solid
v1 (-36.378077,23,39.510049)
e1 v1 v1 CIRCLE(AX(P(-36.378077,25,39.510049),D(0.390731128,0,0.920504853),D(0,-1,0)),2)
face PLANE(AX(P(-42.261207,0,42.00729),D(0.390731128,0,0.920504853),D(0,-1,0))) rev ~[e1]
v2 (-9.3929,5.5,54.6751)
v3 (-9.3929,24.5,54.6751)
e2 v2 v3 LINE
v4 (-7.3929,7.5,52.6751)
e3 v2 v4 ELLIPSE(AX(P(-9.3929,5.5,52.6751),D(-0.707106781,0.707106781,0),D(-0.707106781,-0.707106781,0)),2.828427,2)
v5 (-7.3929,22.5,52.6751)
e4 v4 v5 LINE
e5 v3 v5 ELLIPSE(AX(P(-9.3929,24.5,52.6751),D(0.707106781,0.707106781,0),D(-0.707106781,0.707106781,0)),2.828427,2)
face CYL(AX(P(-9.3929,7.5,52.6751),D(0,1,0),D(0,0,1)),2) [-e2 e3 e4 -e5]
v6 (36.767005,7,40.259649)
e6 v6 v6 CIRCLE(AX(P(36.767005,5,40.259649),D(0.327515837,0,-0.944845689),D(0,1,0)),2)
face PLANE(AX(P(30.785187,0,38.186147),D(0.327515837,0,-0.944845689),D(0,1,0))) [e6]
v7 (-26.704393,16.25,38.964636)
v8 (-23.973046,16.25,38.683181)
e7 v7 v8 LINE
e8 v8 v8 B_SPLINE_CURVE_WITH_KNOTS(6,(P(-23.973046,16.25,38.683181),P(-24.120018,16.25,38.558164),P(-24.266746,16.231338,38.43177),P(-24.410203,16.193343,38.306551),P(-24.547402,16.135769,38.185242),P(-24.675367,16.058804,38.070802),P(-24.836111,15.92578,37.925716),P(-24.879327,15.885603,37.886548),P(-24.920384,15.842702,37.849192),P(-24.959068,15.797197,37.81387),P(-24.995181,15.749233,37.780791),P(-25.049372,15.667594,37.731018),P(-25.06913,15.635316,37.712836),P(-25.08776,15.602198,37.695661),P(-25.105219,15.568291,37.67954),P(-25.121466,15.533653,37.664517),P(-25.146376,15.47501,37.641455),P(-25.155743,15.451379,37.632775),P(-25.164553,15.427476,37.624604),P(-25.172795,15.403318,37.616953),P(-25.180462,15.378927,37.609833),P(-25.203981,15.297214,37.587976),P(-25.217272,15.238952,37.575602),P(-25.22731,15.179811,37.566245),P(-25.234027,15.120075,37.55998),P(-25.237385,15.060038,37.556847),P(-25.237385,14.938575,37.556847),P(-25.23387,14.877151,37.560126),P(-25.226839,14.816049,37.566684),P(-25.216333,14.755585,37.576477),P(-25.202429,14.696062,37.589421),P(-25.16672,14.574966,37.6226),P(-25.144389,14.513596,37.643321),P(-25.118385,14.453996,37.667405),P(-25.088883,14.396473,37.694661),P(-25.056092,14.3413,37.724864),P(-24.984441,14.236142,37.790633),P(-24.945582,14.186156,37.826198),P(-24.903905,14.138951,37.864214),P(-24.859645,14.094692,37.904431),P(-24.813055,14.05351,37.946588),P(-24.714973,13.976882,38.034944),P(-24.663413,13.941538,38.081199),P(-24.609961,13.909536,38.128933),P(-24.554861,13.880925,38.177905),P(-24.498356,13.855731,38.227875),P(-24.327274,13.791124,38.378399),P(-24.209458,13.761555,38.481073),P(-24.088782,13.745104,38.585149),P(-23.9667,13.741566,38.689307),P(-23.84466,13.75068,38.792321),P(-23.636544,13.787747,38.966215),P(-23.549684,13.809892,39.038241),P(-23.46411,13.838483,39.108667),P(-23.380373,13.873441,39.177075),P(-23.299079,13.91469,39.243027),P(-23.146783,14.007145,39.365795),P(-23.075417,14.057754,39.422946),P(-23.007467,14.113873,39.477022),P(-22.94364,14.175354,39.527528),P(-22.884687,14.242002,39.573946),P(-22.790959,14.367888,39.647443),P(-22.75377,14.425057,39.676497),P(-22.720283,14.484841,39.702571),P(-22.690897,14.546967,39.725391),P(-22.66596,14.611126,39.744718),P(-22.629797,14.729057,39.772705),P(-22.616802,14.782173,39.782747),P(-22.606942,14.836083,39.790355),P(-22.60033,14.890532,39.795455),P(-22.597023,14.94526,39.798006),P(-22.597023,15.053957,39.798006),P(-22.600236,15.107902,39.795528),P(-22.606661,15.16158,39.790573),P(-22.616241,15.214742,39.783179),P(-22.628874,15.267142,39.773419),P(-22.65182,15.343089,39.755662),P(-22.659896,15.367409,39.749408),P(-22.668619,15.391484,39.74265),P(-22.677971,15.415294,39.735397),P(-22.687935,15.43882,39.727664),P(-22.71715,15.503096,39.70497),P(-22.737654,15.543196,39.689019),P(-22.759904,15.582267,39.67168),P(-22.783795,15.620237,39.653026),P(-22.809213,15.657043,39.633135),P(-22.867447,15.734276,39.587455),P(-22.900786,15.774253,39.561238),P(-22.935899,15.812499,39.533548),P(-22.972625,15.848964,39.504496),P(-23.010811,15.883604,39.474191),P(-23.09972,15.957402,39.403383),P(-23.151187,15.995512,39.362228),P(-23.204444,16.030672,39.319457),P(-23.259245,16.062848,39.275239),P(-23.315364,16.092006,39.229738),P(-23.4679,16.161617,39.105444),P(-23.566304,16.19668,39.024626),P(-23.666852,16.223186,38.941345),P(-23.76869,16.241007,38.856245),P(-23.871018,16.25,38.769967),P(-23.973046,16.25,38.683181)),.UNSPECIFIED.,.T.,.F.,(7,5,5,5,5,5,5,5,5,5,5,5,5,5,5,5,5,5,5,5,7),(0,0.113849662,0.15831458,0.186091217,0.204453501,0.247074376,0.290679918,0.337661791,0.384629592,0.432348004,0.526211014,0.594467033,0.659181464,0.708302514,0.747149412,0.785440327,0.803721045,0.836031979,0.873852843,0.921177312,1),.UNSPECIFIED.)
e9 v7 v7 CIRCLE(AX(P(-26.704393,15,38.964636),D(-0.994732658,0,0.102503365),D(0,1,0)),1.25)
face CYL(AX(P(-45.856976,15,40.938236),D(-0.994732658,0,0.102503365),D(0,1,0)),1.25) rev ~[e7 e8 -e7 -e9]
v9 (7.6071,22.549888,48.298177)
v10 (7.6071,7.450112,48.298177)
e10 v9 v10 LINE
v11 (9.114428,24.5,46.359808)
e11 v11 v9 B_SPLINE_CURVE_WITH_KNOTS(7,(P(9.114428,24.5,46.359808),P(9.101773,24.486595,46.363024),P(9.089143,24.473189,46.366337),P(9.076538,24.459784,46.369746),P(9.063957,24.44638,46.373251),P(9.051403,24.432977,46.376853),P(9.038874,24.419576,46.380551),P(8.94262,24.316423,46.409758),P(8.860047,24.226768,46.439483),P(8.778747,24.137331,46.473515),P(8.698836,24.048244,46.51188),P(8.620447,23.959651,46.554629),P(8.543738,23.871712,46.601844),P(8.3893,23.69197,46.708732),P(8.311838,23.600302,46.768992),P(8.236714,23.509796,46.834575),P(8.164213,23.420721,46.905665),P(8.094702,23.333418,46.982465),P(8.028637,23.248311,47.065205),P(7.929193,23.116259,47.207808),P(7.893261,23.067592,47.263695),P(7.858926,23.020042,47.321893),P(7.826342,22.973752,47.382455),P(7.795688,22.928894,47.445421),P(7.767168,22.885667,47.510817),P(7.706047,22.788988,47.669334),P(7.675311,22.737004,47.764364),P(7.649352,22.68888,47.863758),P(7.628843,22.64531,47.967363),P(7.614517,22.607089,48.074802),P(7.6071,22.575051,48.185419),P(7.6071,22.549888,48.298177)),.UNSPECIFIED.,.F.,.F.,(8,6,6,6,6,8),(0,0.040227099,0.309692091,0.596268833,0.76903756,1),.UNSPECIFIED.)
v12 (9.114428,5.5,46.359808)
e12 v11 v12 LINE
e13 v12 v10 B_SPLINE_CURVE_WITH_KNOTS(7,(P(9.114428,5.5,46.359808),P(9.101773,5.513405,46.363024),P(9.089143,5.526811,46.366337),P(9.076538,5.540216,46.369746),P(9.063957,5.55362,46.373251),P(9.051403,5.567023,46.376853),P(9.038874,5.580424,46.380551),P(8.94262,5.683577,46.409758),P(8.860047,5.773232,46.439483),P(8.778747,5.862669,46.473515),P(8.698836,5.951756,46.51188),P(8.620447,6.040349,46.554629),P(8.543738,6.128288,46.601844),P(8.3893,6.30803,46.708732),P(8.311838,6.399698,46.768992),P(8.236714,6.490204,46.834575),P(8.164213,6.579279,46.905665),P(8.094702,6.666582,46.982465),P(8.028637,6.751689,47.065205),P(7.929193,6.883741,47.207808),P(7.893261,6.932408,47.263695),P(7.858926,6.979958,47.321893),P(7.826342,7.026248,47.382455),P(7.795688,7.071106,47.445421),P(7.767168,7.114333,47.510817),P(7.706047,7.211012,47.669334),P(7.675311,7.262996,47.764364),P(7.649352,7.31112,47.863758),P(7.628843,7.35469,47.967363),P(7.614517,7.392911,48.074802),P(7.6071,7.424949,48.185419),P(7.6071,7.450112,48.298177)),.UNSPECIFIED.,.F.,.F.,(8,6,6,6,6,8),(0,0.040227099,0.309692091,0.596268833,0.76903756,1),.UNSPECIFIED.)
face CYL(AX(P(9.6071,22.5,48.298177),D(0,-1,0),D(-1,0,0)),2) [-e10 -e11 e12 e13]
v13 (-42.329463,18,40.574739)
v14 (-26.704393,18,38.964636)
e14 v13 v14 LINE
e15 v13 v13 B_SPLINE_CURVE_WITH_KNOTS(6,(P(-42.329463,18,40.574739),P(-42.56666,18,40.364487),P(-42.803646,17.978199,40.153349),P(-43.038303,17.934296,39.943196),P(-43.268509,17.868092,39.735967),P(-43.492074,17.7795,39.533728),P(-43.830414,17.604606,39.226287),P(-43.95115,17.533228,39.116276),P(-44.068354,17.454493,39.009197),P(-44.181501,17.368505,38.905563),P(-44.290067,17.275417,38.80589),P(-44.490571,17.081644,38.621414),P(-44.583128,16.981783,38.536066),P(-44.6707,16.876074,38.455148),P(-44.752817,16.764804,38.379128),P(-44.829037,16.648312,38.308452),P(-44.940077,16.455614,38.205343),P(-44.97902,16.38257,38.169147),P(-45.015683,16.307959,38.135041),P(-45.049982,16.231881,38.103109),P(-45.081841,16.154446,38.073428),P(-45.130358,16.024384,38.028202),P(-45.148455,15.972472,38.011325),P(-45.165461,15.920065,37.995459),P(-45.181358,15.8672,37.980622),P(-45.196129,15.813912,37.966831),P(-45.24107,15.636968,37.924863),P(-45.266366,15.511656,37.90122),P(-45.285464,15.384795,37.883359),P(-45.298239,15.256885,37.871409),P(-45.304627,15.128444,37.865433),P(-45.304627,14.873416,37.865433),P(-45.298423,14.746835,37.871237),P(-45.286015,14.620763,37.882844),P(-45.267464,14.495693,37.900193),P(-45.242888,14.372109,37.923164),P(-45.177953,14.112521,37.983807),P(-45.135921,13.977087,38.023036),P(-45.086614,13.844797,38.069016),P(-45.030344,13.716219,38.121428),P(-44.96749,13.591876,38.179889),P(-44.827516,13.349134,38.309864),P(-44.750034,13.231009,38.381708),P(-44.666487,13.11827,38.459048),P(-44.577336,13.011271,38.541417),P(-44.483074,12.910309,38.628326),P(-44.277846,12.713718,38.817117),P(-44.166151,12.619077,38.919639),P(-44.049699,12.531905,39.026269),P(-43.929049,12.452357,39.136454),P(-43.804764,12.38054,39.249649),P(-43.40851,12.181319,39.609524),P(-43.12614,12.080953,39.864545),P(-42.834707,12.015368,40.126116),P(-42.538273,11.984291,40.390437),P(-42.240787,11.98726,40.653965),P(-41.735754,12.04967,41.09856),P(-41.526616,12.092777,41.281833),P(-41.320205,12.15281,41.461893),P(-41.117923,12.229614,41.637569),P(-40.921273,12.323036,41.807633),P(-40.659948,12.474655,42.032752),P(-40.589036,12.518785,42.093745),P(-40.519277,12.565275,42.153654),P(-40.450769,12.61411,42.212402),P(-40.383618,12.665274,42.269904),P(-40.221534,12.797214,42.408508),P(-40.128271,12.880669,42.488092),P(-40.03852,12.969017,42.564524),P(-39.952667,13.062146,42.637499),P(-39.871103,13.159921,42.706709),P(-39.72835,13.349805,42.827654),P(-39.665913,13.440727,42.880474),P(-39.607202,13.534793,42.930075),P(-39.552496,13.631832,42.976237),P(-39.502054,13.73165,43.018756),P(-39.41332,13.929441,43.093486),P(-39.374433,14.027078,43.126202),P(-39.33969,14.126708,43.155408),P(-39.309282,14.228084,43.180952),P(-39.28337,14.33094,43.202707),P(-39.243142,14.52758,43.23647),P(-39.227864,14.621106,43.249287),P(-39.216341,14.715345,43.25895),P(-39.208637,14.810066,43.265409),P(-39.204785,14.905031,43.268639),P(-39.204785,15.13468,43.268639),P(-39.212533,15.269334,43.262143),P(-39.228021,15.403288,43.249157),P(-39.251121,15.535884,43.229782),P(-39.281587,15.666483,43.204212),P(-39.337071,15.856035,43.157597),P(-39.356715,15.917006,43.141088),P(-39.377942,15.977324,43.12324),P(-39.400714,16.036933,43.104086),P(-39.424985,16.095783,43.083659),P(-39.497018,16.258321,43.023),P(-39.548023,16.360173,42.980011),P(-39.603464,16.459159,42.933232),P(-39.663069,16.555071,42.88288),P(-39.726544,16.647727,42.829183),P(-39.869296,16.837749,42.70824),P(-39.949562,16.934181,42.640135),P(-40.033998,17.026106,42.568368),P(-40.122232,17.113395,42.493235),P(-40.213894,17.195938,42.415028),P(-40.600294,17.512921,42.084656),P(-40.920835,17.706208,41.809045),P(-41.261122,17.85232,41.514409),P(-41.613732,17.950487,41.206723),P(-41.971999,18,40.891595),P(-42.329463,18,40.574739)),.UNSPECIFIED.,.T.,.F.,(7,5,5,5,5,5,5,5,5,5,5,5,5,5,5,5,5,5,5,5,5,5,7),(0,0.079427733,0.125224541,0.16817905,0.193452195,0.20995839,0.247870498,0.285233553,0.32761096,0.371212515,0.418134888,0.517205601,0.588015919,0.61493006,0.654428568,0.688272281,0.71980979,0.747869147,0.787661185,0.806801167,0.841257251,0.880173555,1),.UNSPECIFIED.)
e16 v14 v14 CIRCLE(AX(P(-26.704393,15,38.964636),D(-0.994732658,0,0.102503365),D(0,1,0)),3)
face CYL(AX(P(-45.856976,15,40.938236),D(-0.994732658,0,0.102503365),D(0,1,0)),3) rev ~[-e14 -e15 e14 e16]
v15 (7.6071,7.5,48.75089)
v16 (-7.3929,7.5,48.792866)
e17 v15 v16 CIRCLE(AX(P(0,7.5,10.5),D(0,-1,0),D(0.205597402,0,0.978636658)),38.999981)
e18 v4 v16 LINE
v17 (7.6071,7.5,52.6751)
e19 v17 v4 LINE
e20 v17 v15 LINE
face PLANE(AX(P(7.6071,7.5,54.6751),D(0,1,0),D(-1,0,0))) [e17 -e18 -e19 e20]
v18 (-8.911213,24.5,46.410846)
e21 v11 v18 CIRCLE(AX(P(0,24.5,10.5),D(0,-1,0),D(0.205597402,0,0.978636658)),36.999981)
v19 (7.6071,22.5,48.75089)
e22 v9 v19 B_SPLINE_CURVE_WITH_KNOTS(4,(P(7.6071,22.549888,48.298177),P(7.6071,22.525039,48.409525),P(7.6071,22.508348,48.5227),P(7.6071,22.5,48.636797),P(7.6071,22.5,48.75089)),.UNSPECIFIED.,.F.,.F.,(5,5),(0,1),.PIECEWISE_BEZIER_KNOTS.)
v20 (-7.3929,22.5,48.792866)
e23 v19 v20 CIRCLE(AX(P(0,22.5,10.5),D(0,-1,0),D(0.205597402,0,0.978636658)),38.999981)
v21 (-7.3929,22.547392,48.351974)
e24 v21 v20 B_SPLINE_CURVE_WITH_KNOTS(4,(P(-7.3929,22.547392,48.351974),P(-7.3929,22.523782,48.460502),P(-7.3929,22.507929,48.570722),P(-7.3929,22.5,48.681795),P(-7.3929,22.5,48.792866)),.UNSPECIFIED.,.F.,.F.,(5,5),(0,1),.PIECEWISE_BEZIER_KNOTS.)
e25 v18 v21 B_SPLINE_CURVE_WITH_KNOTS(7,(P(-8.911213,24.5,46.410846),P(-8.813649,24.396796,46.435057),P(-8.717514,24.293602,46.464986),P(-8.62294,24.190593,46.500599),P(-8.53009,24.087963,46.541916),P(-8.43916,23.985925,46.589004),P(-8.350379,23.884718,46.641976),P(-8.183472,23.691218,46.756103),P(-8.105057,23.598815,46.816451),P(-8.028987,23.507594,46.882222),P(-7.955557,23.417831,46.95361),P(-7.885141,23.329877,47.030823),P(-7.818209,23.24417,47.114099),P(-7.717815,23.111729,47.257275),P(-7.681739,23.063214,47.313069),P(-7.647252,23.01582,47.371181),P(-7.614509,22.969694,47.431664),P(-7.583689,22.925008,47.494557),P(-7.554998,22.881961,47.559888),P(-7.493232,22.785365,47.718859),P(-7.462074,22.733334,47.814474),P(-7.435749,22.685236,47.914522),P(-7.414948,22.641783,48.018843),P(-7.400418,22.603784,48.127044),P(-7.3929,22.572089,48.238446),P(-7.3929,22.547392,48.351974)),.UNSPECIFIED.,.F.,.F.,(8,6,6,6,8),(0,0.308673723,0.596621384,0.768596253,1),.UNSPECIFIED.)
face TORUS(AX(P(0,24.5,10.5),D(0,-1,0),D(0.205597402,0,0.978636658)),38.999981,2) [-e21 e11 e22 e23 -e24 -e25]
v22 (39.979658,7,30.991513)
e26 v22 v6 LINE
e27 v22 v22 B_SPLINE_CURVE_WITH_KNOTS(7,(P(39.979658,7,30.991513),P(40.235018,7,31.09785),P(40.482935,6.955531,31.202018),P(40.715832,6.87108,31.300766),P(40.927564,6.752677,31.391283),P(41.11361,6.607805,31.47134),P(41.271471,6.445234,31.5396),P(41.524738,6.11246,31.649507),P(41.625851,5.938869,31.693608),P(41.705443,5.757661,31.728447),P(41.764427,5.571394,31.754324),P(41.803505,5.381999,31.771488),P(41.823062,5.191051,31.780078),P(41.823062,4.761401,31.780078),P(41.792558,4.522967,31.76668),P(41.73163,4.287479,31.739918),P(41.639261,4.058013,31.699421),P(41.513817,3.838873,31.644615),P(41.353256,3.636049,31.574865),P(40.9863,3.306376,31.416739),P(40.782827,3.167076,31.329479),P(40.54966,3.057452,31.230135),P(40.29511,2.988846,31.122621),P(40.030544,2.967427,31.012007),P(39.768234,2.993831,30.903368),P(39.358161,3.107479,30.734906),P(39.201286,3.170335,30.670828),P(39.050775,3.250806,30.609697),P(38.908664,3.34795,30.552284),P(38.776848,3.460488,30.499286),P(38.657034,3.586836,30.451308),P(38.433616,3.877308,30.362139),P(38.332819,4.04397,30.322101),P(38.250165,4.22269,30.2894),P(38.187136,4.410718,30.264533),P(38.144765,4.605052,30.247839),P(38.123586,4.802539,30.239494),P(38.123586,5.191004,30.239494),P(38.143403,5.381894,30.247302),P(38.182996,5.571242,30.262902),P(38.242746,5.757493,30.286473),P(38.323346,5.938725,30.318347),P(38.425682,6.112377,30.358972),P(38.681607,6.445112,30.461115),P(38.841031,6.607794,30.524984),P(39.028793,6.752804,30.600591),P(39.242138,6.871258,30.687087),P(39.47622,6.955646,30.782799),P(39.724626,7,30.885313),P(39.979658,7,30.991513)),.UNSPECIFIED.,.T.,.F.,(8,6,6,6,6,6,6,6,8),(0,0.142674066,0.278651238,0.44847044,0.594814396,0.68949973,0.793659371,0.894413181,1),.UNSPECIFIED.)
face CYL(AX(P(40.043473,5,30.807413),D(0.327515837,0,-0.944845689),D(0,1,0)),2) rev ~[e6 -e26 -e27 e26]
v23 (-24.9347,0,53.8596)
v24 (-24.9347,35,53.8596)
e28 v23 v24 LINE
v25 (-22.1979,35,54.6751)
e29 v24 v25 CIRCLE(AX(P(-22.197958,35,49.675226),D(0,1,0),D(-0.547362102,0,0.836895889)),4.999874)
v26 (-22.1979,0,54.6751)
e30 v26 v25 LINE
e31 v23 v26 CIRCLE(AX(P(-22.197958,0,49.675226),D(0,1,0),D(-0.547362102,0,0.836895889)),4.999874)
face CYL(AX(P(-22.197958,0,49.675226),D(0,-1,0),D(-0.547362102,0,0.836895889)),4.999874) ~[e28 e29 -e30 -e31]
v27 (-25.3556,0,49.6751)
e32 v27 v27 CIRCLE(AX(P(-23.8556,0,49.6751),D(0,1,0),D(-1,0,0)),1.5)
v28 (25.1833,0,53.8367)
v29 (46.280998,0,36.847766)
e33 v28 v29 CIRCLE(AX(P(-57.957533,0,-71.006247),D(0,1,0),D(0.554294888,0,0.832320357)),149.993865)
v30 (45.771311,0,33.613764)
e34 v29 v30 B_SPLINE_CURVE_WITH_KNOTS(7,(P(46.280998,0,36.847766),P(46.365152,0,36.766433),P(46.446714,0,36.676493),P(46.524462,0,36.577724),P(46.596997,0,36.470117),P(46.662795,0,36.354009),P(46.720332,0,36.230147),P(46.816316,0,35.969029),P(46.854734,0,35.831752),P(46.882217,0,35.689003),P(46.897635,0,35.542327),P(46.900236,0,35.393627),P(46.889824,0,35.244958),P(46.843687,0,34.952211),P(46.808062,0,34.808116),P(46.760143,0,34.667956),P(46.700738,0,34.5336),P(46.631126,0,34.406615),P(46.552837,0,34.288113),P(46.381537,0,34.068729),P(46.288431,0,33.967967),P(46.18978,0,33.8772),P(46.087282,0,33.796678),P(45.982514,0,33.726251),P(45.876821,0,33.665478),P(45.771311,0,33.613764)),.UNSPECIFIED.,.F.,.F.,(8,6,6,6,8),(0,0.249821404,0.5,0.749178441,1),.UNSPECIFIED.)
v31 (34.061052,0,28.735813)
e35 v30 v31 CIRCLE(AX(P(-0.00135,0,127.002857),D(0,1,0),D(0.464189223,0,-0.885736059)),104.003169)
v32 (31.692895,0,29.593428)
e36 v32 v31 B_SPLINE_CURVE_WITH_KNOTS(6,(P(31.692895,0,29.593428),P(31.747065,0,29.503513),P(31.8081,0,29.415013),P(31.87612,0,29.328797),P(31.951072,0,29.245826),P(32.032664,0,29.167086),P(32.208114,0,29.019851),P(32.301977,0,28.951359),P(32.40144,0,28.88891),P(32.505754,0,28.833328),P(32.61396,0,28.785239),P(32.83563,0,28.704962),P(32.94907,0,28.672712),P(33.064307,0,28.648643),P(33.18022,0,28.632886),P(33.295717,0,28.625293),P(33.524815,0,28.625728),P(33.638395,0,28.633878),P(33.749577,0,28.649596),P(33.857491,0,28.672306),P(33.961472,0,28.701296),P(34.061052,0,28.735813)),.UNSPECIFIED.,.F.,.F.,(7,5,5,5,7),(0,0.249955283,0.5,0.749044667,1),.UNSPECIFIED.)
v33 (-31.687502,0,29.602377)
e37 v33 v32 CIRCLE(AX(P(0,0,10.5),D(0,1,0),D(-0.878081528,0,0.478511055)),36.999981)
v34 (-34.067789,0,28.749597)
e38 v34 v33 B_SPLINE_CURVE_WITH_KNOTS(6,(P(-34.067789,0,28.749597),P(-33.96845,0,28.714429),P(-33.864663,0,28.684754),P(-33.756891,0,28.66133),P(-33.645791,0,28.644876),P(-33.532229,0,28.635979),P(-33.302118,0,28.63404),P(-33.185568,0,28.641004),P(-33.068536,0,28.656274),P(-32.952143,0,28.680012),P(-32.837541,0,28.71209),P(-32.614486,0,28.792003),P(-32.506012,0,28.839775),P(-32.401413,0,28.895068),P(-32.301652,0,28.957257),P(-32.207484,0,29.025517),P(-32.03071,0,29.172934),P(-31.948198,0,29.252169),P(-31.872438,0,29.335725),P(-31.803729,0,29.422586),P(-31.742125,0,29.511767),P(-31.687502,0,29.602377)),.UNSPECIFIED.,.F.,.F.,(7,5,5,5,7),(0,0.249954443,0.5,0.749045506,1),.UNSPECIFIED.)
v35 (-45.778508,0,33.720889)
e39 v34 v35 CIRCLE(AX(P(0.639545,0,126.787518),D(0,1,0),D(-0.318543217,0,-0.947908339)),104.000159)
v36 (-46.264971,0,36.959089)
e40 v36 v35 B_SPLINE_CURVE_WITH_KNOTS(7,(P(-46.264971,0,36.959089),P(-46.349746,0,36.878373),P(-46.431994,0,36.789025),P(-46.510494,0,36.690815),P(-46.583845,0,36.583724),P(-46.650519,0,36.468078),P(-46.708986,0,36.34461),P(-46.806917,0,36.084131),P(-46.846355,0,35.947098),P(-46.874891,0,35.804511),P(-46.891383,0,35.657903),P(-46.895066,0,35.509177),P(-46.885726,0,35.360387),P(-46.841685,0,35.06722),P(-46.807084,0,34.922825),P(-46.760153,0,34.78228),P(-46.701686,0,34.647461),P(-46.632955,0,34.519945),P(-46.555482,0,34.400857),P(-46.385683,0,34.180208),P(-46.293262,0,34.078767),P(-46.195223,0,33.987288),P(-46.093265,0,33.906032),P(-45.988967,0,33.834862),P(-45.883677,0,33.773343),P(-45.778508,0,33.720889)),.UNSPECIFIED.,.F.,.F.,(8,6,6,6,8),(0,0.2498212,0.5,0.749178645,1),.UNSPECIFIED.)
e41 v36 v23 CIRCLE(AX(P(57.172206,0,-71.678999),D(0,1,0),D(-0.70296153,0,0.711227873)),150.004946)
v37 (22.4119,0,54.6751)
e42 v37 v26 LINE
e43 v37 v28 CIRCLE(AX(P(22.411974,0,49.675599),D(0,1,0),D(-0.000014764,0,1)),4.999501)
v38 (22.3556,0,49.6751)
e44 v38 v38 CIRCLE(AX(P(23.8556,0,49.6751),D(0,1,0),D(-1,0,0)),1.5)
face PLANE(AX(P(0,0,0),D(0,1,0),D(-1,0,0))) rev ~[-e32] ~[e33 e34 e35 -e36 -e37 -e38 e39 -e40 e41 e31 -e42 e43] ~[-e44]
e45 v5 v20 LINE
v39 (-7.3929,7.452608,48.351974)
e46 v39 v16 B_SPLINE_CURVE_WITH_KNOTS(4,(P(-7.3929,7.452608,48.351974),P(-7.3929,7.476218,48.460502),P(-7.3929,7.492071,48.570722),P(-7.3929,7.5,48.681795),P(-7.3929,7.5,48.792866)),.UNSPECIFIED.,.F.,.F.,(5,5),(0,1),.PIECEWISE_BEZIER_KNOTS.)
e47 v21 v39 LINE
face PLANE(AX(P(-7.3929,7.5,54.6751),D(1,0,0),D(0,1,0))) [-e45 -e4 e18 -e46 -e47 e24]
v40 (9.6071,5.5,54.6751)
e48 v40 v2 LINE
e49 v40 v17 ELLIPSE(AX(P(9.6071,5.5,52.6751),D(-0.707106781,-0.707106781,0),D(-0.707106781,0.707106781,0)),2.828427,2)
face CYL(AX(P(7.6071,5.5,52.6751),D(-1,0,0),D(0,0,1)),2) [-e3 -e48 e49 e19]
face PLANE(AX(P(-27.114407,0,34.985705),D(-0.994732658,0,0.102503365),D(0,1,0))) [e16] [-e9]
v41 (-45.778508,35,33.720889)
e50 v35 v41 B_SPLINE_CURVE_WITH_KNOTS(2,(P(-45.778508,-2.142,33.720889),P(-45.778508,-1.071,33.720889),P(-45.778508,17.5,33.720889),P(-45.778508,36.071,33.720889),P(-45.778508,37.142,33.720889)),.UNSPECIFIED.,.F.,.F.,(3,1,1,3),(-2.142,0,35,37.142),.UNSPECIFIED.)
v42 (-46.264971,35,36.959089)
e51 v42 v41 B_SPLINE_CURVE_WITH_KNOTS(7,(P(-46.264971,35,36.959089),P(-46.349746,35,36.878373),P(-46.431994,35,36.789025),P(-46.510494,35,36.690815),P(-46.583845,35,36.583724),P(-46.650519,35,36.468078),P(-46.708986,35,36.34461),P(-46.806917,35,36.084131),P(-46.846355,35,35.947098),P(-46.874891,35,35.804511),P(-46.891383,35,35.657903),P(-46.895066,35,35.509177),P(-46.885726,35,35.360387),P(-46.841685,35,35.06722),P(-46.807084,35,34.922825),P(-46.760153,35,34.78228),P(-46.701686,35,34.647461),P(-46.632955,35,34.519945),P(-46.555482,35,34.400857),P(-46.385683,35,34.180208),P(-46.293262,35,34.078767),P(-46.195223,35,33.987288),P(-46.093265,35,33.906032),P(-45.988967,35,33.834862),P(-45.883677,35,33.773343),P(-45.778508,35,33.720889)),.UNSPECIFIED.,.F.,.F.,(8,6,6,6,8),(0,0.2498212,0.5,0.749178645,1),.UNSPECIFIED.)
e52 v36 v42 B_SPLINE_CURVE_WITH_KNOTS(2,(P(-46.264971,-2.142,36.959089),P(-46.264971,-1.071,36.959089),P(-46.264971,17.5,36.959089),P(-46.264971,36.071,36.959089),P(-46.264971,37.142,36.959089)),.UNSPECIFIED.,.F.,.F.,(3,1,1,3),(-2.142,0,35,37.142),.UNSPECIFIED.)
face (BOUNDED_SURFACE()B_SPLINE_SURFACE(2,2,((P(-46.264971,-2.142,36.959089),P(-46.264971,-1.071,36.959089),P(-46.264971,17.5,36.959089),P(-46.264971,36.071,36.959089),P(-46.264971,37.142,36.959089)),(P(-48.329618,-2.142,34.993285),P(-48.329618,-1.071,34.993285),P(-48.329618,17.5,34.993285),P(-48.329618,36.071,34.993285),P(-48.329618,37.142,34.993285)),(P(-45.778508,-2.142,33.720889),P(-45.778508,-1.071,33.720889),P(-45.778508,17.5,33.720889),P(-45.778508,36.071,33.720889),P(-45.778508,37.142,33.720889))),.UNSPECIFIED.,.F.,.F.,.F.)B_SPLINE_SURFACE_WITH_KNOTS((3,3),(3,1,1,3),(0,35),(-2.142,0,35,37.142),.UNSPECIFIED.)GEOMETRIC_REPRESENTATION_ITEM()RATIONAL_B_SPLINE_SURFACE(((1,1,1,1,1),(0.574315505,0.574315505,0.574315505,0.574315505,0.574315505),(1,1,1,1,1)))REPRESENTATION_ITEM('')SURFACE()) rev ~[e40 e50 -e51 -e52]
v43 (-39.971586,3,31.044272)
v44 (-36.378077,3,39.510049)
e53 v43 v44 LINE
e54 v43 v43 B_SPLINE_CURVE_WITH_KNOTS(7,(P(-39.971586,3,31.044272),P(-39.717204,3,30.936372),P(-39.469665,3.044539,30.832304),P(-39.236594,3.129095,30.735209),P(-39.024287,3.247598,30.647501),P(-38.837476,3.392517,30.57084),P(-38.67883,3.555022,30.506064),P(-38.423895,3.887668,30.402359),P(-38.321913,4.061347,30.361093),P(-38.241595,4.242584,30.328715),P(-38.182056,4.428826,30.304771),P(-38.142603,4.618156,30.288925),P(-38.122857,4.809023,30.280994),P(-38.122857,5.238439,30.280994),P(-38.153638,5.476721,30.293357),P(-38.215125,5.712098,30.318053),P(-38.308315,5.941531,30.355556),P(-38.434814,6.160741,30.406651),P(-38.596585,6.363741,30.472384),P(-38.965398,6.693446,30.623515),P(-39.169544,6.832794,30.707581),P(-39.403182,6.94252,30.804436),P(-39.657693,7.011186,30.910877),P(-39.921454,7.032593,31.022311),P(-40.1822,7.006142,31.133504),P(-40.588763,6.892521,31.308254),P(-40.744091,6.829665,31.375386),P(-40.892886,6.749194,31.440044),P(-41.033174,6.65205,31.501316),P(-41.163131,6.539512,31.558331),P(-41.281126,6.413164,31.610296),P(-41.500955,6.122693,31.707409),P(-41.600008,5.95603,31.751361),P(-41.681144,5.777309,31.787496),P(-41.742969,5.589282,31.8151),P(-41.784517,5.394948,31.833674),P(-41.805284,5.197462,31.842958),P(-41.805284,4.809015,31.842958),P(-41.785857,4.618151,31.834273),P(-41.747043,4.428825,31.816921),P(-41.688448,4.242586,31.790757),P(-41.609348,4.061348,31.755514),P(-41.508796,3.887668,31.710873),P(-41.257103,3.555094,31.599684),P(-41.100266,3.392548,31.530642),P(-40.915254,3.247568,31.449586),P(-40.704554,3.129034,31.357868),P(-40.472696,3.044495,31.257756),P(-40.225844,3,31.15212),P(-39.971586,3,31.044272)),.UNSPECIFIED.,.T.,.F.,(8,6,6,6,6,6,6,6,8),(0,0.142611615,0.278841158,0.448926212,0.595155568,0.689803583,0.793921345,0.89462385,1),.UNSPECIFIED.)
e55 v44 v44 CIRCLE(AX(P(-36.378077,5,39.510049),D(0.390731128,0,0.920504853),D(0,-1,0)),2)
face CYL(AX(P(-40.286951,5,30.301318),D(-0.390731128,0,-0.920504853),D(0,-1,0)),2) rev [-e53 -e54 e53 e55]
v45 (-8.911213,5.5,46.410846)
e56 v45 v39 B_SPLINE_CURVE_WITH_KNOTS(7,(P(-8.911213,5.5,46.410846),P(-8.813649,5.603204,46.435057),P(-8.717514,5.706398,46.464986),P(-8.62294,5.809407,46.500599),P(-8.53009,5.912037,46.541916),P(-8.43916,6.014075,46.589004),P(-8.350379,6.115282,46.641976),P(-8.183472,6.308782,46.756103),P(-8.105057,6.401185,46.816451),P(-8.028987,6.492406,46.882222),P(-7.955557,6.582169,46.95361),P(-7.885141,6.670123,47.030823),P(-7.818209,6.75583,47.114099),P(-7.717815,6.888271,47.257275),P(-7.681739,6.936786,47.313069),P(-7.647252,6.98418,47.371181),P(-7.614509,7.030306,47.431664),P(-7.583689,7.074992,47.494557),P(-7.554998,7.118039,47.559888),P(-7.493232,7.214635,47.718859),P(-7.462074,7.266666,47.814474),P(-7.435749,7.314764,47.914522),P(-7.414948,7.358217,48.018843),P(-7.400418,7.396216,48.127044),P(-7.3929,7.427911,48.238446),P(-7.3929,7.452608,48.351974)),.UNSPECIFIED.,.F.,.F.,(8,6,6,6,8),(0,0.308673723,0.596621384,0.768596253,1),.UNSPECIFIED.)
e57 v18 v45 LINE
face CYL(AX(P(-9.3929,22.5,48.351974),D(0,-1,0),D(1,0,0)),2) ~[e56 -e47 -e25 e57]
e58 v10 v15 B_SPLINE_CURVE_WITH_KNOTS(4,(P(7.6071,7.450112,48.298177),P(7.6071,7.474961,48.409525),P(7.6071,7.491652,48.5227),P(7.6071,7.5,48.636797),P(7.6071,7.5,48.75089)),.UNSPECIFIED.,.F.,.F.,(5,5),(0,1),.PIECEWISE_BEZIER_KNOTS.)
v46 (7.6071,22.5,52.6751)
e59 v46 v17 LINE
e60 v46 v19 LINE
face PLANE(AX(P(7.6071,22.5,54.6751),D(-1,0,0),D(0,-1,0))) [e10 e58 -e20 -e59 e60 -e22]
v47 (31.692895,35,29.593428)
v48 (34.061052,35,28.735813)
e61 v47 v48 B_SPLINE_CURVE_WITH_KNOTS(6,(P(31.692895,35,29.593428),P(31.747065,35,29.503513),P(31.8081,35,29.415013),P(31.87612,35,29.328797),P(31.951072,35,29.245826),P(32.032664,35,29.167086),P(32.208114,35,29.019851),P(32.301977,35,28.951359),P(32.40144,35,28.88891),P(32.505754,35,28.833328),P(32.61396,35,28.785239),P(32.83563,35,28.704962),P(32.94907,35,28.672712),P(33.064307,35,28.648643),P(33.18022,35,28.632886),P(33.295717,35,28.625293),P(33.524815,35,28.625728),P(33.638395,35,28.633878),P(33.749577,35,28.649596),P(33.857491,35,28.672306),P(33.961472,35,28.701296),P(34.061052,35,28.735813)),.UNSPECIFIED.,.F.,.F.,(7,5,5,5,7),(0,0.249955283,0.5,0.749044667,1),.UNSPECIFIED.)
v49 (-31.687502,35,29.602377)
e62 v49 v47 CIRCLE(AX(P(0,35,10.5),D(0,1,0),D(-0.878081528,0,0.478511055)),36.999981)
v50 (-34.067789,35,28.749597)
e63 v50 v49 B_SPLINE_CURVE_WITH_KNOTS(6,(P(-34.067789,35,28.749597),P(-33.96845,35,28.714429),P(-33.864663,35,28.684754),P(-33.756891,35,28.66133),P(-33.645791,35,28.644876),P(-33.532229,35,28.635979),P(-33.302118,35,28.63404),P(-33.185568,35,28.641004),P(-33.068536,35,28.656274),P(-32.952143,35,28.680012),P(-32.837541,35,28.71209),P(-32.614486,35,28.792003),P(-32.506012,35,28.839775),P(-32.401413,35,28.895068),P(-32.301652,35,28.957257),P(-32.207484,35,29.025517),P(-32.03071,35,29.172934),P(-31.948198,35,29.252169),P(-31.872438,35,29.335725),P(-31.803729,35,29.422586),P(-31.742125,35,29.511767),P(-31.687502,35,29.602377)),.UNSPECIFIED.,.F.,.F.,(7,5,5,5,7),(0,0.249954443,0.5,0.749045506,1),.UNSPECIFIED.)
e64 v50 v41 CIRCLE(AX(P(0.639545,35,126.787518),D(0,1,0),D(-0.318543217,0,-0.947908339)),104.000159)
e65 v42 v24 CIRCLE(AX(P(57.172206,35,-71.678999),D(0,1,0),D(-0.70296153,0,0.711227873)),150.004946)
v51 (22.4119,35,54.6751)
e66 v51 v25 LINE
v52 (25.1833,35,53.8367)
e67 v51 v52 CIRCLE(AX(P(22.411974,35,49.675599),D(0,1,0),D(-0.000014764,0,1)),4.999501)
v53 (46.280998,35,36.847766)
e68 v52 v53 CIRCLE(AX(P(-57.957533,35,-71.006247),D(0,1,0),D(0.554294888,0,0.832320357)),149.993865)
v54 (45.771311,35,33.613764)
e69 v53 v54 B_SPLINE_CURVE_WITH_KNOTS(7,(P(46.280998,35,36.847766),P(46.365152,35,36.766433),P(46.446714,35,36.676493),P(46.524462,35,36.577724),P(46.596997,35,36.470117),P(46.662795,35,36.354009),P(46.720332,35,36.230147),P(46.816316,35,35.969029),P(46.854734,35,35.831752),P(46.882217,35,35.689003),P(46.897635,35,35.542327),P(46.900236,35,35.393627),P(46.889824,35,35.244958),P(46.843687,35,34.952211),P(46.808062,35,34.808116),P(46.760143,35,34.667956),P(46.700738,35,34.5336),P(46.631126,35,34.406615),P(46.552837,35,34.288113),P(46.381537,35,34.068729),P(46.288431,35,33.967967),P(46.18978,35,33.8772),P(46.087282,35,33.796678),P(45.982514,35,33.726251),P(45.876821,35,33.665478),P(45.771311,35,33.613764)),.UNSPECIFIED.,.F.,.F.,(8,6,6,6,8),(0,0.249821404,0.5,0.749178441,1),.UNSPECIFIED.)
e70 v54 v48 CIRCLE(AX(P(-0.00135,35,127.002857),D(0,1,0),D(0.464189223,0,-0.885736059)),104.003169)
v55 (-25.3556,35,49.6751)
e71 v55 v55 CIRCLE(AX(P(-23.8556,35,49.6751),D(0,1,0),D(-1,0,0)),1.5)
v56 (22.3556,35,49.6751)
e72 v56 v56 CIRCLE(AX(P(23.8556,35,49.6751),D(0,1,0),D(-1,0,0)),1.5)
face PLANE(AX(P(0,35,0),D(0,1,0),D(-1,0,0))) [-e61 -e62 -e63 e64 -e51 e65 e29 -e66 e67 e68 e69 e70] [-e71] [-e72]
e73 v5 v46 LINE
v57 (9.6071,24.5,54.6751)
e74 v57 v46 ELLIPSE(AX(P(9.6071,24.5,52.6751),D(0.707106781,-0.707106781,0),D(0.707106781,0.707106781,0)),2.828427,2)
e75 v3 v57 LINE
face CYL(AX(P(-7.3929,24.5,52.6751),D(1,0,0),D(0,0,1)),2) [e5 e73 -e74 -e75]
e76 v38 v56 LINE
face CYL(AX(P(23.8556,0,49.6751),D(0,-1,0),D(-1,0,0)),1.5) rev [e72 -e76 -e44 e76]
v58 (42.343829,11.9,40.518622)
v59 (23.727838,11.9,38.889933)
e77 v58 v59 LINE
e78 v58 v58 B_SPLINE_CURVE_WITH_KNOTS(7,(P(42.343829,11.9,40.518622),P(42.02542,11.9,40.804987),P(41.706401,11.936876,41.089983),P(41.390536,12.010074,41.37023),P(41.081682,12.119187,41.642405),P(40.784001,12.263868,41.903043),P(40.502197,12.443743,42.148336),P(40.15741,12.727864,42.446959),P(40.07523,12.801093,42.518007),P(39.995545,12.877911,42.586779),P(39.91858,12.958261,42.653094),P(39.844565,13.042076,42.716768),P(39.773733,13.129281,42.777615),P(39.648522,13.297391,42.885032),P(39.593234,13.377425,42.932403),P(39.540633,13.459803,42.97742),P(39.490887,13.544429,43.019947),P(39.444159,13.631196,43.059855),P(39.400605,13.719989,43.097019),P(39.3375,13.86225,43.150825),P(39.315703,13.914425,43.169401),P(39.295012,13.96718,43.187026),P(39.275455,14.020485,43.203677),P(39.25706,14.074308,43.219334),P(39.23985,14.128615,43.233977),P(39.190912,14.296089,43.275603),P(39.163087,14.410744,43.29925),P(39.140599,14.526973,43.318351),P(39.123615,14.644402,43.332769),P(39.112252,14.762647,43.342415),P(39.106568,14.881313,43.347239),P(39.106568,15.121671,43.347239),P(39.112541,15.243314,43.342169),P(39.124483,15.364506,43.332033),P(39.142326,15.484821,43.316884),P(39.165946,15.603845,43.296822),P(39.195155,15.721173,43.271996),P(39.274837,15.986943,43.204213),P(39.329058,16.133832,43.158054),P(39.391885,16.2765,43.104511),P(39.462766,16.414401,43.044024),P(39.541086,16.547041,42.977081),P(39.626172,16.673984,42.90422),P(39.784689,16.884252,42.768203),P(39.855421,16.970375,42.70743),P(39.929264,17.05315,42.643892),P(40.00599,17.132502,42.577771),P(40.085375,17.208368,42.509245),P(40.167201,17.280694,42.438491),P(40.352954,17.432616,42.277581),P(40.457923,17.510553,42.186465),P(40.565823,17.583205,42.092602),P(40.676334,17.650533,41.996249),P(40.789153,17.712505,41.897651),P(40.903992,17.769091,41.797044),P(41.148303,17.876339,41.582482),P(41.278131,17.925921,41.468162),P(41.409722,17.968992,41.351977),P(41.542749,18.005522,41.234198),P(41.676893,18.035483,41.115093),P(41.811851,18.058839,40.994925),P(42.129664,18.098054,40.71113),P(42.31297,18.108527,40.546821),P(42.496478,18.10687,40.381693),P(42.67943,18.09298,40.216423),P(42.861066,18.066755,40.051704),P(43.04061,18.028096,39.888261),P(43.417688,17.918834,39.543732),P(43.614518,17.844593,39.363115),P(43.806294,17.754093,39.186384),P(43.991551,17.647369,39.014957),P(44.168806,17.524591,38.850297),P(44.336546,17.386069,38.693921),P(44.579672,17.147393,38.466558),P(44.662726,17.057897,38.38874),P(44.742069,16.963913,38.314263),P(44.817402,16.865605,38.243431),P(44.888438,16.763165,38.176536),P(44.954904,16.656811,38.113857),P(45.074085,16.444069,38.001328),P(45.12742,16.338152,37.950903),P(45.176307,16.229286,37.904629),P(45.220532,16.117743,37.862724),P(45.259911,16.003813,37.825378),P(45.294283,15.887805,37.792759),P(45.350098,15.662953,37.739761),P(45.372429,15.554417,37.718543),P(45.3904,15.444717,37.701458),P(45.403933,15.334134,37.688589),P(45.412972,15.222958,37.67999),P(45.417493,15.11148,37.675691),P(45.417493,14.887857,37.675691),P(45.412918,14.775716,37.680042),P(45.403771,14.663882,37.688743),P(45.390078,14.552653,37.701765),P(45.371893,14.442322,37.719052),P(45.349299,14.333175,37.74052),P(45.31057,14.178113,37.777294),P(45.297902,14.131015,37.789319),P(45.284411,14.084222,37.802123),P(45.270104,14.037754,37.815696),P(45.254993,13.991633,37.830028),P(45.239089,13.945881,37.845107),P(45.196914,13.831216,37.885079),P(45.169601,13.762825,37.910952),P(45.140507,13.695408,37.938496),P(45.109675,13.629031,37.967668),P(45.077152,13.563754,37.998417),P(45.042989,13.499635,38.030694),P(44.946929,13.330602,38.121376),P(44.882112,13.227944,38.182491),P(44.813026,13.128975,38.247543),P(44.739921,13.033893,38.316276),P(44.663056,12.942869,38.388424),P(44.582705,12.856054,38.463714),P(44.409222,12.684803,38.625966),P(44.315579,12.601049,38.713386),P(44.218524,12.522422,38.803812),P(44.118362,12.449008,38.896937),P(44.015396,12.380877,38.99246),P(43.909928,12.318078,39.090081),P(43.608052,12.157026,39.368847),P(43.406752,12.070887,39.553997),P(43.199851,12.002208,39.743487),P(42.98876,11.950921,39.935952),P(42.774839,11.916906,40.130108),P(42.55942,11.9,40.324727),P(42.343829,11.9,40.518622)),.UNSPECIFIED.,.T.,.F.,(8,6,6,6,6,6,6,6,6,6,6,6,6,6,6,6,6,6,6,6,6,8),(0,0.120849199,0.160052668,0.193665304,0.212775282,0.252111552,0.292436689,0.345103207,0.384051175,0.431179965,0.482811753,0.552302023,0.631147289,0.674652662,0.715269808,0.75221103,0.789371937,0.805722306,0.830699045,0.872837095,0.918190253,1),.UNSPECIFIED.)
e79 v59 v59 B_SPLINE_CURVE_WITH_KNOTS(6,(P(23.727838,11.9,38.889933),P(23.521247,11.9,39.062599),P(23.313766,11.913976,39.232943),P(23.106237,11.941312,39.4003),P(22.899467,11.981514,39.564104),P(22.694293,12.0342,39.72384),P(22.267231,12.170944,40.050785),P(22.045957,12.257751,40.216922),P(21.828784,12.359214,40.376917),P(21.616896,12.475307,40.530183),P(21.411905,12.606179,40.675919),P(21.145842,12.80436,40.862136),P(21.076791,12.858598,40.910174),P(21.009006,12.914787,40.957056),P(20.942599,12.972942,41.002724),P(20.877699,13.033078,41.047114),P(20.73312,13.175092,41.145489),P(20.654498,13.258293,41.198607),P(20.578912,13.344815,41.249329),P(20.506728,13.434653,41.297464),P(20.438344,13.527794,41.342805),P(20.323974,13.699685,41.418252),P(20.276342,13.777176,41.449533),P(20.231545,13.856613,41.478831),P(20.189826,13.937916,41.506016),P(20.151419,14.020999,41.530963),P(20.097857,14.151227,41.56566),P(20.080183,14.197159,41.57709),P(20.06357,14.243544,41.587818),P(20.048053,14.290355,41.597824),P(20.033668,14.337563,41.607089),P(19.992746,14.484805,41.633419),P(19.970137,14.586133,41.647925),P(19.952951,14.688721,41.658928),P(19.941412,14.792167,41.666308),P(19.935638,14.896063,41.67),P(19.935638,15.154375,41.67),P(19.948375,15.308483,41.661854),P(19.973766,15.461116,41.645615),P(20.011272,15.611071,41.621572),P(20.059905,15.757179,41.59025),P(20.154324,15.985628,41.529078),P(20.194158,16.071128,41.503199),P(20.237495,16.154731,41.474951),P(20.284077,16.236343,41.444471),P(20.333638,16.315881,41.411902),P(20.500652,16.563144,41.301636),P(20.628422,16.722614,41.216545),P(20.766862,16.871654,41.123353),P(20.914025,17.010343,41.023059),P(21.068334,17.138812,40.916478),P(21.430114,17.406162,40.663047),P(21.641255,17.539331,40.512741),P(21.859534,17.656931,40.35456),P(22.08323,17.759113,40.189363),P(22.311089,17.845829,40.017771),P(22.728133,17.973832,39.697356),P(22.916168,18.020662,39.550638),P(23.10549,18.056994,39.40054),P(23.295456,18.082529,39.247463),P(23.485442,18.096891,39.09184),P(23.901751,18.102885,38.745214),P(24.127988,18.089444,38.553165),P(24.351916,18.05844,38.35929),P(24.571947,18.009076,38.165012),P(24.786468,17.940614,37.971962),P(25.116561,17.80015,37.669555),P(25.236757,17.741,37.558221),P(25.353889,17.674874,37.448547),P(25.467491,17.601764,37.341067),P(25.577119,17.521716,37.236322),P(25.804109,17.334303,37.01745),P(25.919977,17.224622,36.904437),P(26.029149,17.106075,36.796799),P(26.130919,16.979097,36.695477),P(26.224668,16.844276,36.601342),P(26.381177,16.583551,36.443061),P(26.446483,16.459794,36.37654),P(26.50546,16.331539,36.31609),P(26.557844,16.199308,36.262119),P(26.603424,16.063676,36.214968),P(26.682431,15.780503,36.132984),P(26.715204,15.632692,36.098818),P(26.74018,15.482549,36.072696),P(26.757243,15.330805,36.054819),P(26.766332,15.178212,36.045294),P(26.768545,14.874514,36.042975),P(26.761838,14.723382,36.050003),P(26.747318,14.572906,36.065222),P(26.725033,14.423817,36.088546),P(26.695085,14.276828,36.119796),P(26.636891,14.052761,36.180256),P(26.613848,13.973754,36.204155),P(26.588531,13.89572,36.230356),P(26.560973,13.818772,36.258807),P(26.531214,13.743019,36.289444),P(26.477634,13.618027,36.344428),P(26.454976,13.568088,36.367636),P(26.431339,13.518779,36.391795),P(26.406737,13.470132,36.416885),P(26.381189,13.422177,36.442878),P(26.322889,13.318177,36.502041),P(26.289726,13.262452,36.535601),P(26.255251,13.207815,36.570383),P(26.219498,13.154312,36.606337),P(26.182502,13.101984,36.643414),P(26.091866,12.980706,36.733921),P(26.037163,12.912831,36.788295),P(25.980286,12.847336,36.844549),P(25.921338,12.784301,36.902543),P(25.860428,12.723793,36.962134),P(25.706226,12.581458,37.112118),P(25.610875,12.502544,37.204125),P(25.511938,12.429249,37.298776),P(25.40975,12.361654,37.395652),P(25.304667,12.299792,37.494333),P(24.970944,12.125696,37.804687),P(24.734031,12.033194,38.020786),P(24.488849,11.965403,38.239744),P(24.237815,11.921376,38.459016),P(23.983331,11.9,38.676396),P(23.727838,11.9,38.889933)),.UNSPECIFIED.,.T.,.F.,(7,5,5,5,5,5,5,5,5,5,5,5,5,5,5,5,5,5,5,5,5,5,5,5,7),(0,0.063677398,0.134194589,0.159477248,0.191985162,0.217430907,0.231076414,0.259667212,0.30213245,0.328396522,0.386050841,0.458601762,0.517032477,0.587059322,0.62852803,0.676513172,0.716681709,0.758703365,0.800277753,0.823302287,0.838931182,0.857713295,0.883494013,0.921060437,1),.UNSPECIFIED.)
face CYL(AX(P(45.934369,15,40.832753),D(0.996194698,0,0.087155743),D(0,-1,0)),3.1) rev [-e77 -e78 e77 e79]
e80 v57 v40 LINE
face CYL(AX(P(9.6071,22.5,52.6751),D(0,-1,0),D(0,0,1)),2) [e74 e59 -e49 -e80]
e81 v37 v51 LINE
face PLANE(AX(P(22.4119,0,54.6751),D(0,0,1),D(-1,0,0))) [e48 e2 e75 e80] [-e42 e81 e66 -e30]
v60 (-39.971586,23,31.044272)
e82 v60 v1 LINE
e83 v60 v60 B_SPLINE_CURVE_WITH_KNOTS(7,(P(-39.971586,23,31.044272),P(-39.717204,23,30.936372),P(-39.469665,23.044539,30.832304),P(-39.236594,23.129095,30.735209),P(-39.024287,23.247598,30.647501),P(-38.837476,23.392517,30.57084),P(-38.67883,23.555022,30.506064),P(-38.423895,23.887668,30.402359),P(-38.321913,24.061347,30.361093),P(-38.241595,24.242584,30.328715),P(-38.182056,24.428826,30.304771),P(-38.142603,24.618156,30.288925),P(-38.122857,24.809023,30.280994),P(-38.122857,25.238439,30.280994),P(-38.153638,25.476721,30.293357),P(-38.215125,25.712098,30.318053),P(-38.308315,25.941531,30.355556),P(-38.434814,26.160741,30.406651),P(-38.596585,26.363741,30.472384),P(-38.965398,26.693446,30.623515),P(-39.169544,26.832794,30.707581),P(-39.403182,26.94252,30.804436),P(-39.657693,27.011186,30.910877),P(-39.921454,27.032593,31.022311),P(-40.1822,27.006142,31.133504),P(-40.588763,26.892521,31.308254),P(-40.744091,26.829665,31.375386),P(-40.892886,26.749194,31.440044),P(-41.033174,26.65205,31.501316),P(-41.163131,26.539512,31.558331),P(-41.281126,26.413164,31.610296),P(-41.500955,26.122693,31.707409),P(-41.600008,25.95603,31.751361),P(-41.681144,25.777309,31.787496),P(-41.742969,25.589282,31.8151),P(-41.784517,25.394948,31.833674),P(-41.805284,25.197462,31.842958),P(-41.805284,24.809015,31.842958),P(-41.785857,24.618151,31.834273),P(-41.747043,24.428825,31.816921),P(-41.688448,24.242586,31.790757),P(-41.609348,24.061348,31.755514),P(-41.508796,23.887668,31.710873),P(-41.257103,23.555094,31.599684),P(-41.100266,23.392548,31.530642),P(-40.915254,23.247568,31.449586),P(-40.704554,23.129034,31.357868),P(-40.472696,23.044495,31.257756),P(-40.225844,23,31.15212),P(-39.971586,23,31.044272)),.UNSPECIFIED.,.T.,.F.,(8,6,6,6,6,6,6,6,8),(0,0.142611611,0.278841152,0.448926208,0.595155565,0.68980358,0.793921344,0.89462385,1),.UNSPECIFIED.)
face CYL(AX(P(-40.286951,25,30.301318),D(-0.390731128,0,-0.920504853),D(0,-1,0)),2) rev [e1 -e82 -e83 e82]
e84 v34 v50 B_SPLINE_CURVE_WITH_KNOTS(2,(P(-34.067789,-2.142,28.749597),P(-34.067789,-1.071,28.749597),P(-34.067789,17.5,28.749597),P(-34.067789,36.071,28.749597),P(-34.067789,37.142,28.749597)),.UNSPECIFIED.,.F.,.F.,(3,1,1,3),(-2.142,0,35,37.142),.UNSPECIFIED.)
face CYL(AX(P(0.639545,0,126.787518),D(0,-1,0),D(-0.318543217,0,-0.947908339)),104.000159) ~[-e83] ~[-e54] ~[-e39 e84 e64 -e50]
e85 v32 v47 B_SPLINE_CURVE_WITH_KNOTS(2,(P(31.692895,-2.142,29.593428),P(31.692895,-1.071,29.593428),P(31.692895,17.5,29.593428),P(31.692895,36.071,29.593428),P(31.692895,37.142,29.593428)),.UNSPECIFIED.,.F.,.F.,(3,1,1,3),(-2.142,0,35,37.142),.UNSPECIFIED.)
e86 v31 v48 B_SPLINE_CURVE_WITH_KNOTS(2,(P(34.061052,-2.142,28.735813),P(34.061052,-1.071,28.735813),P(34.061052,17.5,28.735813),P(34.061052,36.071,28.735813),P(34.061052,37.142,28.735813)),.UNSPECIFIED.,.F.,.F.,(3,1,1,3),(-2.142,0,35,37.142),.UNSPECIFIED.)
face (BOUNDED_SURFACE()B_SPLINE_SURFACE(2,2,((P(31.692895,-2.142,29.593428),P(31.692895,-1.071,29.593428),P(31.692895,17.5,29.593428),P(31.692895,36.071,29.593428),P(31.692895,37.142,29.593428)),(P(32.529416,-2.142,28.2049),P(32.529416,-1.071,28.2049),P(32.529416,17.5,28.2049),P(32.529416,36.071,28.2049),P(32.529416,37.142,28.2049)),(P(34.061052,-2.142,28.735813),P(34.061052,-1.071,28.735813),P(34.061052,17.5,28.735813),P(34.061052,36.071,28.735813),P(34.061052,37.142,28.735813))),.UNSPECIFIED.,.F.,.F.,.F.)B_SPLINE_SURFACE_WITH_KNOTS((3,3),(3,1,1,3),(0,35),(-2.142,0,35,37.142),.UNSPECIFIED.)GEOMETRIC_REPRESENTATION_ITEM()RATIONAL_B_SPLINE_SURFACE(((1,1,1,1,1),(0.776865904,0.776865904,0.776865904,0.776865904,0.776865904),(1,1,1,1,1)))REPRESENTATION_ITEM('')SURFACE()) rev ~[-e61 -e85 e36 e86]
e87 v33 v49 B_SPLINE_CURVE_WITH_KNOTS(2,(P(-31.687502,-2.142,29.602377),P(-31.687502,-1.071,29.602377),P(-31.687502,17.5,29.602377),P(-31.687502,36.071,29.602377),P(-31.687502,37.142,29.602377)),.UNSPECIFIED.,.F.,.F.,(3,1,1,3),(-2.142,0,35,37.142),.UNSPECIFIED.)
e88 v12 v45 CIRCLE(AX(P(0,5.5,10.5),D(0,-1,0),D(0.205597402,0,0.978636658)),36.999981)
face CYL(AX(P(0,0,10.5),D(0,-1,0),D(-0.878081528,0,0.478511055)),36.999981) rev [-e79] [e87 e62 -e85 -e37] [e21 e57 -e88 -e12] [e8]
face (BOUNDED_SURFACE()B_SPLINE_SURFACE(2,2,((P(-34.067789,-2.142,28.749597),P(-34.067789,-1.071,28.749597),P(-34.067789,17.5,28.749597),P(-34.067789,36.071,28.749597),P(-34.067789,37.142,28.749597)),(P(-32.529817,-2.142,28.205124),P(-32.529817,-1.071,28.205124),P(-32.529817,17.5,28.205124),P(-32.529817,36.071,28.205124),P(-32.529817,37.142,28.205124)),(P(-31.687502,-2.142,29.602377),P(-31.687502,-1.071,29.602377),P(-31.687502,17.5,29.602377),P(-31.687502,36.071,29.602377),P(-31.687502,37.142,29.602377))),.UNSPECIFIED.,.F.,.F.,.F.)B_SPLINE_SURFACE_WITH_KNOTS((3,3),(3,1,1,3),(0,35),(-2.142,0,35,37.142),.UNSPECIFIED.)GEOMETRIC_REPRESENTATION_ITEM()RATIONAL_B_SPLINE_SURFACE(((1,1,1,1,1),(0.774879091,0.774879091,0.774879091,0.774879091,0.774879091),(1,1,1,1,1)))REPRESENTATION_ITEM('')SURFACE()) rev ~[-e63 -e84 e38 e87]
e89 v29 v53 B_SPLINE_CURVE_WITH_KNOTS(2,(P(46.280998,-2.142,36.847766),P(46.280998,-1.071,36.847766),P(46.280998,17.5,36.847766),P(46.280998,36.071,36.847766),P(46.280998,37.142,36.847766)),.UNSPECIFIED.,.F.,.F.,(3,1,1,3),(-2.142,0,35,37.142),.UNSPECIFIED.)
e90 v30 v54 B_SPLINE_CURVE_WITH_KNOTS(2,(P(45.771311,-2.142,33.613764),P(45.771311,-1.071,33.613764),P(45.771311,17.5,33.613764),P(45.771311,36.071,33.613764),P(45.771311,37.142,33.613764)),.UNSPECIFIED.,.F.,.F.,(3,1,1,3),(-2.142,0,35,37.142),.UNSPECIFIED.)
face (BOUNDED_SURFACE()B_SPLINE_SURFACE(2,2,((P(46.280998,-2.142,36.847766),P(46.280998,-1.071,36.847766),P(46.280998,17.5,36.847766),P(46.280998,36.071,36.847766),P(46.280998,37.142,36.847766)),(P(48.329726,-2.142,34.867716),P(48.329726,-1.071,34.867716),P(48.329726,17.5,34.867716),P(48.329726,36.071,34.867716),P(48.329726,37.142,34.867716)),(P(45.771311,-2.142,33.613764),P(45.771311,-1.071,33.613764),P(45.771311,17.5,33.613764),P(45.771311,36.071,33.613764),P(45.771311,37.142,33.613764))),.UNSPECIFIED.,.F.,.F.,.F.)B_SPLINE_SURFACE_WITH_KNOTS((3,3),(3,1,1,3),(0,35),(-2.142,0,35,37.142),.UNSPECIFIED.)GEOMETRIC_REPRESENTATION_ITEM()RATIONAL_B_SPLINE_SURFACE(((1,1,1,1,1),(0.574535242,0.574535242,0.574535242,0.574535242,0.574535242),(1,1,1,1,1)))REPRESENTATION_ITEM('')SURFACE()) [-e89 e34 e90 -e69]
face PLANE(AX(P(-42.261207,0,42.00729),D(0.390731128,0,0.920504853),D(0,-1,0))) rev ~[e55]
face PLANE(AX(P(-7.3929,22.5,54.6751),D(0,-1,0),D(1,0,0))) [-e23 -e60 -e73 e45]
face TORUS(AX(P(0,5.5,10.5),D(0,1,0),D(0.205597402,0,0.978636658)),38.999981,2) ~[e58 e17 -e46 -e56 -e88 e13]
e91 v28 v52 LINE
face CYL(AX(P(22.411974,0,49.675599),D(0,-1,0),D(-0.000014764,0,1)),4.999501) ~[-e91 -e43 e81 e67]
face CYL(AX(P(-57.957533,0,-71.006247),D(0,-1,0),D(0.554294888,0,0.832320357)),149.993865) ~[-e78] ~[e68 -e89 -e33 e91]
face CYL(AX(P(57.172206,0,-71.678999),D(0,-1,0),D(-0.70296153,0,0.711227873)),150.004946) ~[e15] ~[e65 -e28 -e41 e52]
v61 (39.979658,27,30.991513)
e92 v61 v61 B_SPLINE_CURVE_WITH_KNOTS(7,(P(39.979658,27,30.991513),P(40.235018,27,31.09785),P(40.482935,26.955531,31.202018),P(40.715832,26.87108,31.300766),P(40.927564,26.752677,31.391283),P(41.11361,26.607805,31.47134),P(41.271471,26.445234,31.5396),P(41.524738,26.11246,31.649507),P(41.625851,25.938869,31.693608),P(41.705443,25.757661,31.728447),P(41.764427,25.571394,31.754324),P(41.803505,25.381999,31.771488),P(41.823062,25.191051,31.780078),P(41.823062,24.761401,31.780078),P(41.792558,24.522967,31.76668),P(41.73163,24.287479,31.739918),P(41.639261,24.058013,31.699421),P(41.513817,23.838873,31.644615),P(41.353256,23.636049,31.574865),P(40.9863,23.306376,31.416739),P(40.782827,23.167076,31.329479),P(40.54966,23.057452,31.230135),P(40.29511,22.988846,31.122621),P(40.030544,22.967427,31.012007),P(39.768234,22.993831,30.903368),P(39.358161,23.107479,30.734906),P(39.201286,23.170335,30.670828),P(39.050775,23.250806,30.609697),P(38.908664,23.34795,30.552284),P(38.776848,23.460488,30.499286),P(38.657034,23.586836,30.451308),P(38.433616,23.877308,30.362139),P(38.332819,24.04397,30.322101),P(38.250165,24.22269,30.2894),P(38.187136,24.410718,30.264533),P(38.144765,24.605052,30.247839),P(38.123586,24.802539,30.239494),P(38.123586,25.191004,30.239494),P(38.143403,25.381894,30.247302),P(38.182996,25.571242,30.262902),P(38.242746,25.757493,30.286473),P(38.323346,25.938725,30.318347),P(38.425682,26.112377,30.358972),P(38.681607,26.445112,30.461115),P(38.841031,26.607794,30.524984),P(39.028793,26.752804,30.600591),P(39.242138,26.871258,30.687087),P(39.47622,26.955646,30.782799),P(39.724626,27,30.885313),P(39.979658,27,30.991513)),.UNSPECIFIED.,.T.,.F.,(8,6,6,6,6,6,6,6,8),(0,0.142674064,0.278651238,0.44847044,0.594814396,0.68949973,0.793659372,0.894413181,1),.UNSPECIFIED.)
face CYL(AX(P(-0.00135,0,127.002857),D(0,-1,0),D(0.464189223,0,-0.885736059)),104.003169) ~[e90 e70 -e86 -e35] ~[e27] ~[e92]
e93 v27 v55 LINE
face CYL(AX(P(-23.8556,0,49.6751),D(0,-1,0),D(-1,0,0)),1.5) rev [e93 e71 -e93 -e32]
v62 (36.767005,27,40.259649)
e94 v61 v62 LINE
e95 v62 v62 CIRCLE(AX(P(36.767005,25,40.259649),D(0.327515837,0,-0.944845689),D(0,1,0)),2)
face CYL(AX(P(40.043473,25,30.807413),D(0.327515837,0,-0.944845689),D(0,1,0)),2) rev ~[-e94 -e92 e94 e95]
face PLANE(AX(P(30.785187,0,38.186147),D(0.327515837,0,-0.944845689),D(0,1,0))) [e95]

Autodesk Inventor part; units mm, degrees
sketch "Эскиз1" plane through (0, 0, 0) normal (0, 1, 0) x (-1, 0, 0)
  line L0 (-22.4119, 54.6751) -> (22.1979, 54.6751)
  arc A0 (32.489, 28.2049) -> (-32.489, 28.2049) centre (0, 10.5) ccw
  arc A1 (36.6633, -21.4663) -> (-36.0003, -21.4663) centre (0.3315, -28.4663) ccw
  line L1 (36.6633, -21.4663) -> (-36.0003, -21.4663)
  circle A2 centre (23.8556, 49.6751) radius 1.5
  arc A3 (32.489, 28.2049) -> (48.2755, 35.0087) centre (-0.6395, 126.7874) ccw
  circle A4 centre (-23.8556, 49.6751) radius 1.5
  arc A5 (-48.2758, 34.8835) -> (-32.489, 28.2049) centre (0, 127) ccw
  arc A6 (-25.1833, 53.8367) -> (-48.2758, 34.8835) centre (57.9612, -71.0112) ccw
  arc A7 (48.2755, 35.0087) -> (24.9347, 53.8596) centre (-57.1689, -71.6753) ccw
  arc A8 (24.9347, 53.8596) -> (22.1979, 54.6751) centre (22.1979, 49.6751) ccw
  arc A9 (-22.4119, 54.6751) -> (-25.1833, 53.8367) centre (-22.4119, 49.6751) ccw
  point P0 (0, 0)
  point P1 (0, 0)
  point P2 (-23.9104, 54.6751)
  point P3 (0, 47.5)
  point P4 (-0.107, 54.6751)
  point P5 (0, 0)
  point P6 (23.6741, 54.6751)
  dimension "d0" = 72.6636
  dimension "d1" = 37
  dimension "d2" = 15.7868
  dimension "d3" = 7.1751
  dimension "d4" = 5
  dimension "d5" = 5
  dimension "d6" = 150
  dimension "d7" = 150
  dimension "d8" = 5
extrude "Выдавливание1" add sketch "Эскиз1" along normal blind 35 contours L0 A8 A7 A3 A0 A5 A6 A9
sketch "Эскиз7" plane through (-22.1979, 0, 54.6751) normal (0, 0, 1) x (1, 0, 0)
  line L0 (14.805, 22.5) -> (29.805, 22.5)
  line L1 (29.805, 22.5) -> (29.805, 7.5)
  line L2 (29.805, 7.5) -> (14.805, 7.5)
  line L3 (14.805, 7.5) -> (14.805, 22.5)
  line L4 (0, 35) -> (44.6098, 35) projected
  line L5 (0, 0) -> (0, 35) projected
  point P0 (22.1979, 0)
  dimension "d40" = 15
  dimension "d41" = 15
  dimension "d42" = 12.5
  dimension "d43" = 14.805
extrude "Выдавливание5" cut sketch "Эскиз7" against normal blind 48
fillet "Сопряжение1" radius 2 8 edges at (0.1071, 7.5, 54.6751) (-7.3929, 15, 54.6751) (0.1071, 22.5, 54.6751) (7.6071, 15, 54.6751) (7.6071, 15, 46.7096) (0.1093, 22.5, 47.4998) (-7.3929, 15, 46.7539) (0.1093, 7.5, 47.4998)
fillet "Сопряжение2" radius 2 4 edges at (48.2758, 17.5, 34.8835) (32.489, 17.5, 28.2049) (-32.489, 17.5, 28.2049) (-48.2755, 17.5, 35.0087)
ref_plane "РабПлоскость4" through (34.061, 0, 28.7358) normal (0.3275, 0, -0.9448) x (0, 1, 0)
sketch "Эскиз9" plane through (34.061, 0, 28.7358) normal (0.3275, 0, -0.9448) x (0, 1, 0)
  circle A0 centre (25, 6.331) radius 2
  circle A1 centre (5, 6.331) radius 2
  line L0 (35, 0) -> (35, 12.662) projected
  line L1 (0, 12.662) -> (35, 12.662) projected
  point P0 (0, -41.5938)
  dimension "d49" = 4
  dimension "d50" = 4
  dimension "d51" = 20
  dimension "d52" = 10
  dimension "d53" = 6.331
  dimension "d54" = 6.331
extrude "Выдавливание6" cut sketch "Эскиз9" against normal blind 10
ref_plane "РабПлоскость9" through (-46.1693, 0, 32.8004) normal (0.3908, 0, 0.9205) x (0, -1, 0)
ref_plane "РабПлоскость8" through (-45.7785, 0, 33.7209) normal (0.3908, 0, 0.9205) x (0, -1, 0)
sketch "Эскиз12" plane through (-46.1693, 0, 32.8004) normal (0.3908, 0, 0.9205) x (0, -1, 0)
  circle A0 centre (-25, 6.3912) radius 2
  circle A1 centre (-5, 6.3912) radius 2
  line L0 (0, 12.7222) -> (-35, 12.7222) projected
  line L1 (-35, 12.7222) -> (-35, 0) projected
  point P0 (0, 55.3155)
  dimension "d66" = 4
  dimension "d67" = 4
  dimension "d68" = 20
  dimension "d69" = 6.331
  dimension "d70" = 6.331
  dimension "d71" = 10
extrude "Выдавливание8" cut sketch "Эскиз12" along normal blind 10
ref_plane "РабПлоскость12" through (46.281, 0, 36.8478) normal (-0.9962, 0, -0.0872) x (0, -1, 0)
sketch "Эскиз14" plane through (46.281, 0, 36.8478) normal (-0.9962, 0, -0.0872) x (0, -1, 0)
  circle A0 centre (-15, 4) radius 3.1
  line L0 (0, 18.763) -> (0, 0) projected
  line L1 (-35, 0) -> (0, 0) projected
  point P0 (0, -32.6739)
  dimension "d78" = 6.2
  dimension "d79" = 15
  dimension "d80" = 4
extrude "Выдавливание9" cut sketch "Эскиз14" along normal blind 43.25
ref_plane "РабПлоскость13" through (-46.265, 0, 36.9591) normal (-0.9947, 0, 0.1025) x (0, 1, 0)
sketch "Эскиз16" plane through (-46.265, 0, 36.9591) normal (-0.9947, 0, 0.1025) x (0, 1, 0)
  circle A0 centre (15, -4) radius 3
  line L0 (0, -18.9975) -> (0, 0) projected
  line L1 (0, 0) -> (35, 0) projected
  point P0 (0, 32.0231)
  dimension "d85" = 6
  dimension "d86" = 15
  dimension "d87" = 4
extrude "Выдавливание10" cut sketch "Эскиз16" against normal blind 19.25
sketch "Эскиз17" plane through (-46.265, 0, 36.9591) normal (-0.9947, 0, 0.1025) x (0, 1, 0)
  circle A0 centre (15, -4) radius 1.25
  line L0 (0, -18.9975) -> (0, 0) projected
  line L1 (0, 0) -> (35, 0) projected
  point P0 (0, 32.0231)
  dimension "d90" = 2.5
  dimension "d91" = 15
  dimension "d92" = 4
extrude "Выдавливание11" cut sketch "Эскиз17" against normal blind 26.5
